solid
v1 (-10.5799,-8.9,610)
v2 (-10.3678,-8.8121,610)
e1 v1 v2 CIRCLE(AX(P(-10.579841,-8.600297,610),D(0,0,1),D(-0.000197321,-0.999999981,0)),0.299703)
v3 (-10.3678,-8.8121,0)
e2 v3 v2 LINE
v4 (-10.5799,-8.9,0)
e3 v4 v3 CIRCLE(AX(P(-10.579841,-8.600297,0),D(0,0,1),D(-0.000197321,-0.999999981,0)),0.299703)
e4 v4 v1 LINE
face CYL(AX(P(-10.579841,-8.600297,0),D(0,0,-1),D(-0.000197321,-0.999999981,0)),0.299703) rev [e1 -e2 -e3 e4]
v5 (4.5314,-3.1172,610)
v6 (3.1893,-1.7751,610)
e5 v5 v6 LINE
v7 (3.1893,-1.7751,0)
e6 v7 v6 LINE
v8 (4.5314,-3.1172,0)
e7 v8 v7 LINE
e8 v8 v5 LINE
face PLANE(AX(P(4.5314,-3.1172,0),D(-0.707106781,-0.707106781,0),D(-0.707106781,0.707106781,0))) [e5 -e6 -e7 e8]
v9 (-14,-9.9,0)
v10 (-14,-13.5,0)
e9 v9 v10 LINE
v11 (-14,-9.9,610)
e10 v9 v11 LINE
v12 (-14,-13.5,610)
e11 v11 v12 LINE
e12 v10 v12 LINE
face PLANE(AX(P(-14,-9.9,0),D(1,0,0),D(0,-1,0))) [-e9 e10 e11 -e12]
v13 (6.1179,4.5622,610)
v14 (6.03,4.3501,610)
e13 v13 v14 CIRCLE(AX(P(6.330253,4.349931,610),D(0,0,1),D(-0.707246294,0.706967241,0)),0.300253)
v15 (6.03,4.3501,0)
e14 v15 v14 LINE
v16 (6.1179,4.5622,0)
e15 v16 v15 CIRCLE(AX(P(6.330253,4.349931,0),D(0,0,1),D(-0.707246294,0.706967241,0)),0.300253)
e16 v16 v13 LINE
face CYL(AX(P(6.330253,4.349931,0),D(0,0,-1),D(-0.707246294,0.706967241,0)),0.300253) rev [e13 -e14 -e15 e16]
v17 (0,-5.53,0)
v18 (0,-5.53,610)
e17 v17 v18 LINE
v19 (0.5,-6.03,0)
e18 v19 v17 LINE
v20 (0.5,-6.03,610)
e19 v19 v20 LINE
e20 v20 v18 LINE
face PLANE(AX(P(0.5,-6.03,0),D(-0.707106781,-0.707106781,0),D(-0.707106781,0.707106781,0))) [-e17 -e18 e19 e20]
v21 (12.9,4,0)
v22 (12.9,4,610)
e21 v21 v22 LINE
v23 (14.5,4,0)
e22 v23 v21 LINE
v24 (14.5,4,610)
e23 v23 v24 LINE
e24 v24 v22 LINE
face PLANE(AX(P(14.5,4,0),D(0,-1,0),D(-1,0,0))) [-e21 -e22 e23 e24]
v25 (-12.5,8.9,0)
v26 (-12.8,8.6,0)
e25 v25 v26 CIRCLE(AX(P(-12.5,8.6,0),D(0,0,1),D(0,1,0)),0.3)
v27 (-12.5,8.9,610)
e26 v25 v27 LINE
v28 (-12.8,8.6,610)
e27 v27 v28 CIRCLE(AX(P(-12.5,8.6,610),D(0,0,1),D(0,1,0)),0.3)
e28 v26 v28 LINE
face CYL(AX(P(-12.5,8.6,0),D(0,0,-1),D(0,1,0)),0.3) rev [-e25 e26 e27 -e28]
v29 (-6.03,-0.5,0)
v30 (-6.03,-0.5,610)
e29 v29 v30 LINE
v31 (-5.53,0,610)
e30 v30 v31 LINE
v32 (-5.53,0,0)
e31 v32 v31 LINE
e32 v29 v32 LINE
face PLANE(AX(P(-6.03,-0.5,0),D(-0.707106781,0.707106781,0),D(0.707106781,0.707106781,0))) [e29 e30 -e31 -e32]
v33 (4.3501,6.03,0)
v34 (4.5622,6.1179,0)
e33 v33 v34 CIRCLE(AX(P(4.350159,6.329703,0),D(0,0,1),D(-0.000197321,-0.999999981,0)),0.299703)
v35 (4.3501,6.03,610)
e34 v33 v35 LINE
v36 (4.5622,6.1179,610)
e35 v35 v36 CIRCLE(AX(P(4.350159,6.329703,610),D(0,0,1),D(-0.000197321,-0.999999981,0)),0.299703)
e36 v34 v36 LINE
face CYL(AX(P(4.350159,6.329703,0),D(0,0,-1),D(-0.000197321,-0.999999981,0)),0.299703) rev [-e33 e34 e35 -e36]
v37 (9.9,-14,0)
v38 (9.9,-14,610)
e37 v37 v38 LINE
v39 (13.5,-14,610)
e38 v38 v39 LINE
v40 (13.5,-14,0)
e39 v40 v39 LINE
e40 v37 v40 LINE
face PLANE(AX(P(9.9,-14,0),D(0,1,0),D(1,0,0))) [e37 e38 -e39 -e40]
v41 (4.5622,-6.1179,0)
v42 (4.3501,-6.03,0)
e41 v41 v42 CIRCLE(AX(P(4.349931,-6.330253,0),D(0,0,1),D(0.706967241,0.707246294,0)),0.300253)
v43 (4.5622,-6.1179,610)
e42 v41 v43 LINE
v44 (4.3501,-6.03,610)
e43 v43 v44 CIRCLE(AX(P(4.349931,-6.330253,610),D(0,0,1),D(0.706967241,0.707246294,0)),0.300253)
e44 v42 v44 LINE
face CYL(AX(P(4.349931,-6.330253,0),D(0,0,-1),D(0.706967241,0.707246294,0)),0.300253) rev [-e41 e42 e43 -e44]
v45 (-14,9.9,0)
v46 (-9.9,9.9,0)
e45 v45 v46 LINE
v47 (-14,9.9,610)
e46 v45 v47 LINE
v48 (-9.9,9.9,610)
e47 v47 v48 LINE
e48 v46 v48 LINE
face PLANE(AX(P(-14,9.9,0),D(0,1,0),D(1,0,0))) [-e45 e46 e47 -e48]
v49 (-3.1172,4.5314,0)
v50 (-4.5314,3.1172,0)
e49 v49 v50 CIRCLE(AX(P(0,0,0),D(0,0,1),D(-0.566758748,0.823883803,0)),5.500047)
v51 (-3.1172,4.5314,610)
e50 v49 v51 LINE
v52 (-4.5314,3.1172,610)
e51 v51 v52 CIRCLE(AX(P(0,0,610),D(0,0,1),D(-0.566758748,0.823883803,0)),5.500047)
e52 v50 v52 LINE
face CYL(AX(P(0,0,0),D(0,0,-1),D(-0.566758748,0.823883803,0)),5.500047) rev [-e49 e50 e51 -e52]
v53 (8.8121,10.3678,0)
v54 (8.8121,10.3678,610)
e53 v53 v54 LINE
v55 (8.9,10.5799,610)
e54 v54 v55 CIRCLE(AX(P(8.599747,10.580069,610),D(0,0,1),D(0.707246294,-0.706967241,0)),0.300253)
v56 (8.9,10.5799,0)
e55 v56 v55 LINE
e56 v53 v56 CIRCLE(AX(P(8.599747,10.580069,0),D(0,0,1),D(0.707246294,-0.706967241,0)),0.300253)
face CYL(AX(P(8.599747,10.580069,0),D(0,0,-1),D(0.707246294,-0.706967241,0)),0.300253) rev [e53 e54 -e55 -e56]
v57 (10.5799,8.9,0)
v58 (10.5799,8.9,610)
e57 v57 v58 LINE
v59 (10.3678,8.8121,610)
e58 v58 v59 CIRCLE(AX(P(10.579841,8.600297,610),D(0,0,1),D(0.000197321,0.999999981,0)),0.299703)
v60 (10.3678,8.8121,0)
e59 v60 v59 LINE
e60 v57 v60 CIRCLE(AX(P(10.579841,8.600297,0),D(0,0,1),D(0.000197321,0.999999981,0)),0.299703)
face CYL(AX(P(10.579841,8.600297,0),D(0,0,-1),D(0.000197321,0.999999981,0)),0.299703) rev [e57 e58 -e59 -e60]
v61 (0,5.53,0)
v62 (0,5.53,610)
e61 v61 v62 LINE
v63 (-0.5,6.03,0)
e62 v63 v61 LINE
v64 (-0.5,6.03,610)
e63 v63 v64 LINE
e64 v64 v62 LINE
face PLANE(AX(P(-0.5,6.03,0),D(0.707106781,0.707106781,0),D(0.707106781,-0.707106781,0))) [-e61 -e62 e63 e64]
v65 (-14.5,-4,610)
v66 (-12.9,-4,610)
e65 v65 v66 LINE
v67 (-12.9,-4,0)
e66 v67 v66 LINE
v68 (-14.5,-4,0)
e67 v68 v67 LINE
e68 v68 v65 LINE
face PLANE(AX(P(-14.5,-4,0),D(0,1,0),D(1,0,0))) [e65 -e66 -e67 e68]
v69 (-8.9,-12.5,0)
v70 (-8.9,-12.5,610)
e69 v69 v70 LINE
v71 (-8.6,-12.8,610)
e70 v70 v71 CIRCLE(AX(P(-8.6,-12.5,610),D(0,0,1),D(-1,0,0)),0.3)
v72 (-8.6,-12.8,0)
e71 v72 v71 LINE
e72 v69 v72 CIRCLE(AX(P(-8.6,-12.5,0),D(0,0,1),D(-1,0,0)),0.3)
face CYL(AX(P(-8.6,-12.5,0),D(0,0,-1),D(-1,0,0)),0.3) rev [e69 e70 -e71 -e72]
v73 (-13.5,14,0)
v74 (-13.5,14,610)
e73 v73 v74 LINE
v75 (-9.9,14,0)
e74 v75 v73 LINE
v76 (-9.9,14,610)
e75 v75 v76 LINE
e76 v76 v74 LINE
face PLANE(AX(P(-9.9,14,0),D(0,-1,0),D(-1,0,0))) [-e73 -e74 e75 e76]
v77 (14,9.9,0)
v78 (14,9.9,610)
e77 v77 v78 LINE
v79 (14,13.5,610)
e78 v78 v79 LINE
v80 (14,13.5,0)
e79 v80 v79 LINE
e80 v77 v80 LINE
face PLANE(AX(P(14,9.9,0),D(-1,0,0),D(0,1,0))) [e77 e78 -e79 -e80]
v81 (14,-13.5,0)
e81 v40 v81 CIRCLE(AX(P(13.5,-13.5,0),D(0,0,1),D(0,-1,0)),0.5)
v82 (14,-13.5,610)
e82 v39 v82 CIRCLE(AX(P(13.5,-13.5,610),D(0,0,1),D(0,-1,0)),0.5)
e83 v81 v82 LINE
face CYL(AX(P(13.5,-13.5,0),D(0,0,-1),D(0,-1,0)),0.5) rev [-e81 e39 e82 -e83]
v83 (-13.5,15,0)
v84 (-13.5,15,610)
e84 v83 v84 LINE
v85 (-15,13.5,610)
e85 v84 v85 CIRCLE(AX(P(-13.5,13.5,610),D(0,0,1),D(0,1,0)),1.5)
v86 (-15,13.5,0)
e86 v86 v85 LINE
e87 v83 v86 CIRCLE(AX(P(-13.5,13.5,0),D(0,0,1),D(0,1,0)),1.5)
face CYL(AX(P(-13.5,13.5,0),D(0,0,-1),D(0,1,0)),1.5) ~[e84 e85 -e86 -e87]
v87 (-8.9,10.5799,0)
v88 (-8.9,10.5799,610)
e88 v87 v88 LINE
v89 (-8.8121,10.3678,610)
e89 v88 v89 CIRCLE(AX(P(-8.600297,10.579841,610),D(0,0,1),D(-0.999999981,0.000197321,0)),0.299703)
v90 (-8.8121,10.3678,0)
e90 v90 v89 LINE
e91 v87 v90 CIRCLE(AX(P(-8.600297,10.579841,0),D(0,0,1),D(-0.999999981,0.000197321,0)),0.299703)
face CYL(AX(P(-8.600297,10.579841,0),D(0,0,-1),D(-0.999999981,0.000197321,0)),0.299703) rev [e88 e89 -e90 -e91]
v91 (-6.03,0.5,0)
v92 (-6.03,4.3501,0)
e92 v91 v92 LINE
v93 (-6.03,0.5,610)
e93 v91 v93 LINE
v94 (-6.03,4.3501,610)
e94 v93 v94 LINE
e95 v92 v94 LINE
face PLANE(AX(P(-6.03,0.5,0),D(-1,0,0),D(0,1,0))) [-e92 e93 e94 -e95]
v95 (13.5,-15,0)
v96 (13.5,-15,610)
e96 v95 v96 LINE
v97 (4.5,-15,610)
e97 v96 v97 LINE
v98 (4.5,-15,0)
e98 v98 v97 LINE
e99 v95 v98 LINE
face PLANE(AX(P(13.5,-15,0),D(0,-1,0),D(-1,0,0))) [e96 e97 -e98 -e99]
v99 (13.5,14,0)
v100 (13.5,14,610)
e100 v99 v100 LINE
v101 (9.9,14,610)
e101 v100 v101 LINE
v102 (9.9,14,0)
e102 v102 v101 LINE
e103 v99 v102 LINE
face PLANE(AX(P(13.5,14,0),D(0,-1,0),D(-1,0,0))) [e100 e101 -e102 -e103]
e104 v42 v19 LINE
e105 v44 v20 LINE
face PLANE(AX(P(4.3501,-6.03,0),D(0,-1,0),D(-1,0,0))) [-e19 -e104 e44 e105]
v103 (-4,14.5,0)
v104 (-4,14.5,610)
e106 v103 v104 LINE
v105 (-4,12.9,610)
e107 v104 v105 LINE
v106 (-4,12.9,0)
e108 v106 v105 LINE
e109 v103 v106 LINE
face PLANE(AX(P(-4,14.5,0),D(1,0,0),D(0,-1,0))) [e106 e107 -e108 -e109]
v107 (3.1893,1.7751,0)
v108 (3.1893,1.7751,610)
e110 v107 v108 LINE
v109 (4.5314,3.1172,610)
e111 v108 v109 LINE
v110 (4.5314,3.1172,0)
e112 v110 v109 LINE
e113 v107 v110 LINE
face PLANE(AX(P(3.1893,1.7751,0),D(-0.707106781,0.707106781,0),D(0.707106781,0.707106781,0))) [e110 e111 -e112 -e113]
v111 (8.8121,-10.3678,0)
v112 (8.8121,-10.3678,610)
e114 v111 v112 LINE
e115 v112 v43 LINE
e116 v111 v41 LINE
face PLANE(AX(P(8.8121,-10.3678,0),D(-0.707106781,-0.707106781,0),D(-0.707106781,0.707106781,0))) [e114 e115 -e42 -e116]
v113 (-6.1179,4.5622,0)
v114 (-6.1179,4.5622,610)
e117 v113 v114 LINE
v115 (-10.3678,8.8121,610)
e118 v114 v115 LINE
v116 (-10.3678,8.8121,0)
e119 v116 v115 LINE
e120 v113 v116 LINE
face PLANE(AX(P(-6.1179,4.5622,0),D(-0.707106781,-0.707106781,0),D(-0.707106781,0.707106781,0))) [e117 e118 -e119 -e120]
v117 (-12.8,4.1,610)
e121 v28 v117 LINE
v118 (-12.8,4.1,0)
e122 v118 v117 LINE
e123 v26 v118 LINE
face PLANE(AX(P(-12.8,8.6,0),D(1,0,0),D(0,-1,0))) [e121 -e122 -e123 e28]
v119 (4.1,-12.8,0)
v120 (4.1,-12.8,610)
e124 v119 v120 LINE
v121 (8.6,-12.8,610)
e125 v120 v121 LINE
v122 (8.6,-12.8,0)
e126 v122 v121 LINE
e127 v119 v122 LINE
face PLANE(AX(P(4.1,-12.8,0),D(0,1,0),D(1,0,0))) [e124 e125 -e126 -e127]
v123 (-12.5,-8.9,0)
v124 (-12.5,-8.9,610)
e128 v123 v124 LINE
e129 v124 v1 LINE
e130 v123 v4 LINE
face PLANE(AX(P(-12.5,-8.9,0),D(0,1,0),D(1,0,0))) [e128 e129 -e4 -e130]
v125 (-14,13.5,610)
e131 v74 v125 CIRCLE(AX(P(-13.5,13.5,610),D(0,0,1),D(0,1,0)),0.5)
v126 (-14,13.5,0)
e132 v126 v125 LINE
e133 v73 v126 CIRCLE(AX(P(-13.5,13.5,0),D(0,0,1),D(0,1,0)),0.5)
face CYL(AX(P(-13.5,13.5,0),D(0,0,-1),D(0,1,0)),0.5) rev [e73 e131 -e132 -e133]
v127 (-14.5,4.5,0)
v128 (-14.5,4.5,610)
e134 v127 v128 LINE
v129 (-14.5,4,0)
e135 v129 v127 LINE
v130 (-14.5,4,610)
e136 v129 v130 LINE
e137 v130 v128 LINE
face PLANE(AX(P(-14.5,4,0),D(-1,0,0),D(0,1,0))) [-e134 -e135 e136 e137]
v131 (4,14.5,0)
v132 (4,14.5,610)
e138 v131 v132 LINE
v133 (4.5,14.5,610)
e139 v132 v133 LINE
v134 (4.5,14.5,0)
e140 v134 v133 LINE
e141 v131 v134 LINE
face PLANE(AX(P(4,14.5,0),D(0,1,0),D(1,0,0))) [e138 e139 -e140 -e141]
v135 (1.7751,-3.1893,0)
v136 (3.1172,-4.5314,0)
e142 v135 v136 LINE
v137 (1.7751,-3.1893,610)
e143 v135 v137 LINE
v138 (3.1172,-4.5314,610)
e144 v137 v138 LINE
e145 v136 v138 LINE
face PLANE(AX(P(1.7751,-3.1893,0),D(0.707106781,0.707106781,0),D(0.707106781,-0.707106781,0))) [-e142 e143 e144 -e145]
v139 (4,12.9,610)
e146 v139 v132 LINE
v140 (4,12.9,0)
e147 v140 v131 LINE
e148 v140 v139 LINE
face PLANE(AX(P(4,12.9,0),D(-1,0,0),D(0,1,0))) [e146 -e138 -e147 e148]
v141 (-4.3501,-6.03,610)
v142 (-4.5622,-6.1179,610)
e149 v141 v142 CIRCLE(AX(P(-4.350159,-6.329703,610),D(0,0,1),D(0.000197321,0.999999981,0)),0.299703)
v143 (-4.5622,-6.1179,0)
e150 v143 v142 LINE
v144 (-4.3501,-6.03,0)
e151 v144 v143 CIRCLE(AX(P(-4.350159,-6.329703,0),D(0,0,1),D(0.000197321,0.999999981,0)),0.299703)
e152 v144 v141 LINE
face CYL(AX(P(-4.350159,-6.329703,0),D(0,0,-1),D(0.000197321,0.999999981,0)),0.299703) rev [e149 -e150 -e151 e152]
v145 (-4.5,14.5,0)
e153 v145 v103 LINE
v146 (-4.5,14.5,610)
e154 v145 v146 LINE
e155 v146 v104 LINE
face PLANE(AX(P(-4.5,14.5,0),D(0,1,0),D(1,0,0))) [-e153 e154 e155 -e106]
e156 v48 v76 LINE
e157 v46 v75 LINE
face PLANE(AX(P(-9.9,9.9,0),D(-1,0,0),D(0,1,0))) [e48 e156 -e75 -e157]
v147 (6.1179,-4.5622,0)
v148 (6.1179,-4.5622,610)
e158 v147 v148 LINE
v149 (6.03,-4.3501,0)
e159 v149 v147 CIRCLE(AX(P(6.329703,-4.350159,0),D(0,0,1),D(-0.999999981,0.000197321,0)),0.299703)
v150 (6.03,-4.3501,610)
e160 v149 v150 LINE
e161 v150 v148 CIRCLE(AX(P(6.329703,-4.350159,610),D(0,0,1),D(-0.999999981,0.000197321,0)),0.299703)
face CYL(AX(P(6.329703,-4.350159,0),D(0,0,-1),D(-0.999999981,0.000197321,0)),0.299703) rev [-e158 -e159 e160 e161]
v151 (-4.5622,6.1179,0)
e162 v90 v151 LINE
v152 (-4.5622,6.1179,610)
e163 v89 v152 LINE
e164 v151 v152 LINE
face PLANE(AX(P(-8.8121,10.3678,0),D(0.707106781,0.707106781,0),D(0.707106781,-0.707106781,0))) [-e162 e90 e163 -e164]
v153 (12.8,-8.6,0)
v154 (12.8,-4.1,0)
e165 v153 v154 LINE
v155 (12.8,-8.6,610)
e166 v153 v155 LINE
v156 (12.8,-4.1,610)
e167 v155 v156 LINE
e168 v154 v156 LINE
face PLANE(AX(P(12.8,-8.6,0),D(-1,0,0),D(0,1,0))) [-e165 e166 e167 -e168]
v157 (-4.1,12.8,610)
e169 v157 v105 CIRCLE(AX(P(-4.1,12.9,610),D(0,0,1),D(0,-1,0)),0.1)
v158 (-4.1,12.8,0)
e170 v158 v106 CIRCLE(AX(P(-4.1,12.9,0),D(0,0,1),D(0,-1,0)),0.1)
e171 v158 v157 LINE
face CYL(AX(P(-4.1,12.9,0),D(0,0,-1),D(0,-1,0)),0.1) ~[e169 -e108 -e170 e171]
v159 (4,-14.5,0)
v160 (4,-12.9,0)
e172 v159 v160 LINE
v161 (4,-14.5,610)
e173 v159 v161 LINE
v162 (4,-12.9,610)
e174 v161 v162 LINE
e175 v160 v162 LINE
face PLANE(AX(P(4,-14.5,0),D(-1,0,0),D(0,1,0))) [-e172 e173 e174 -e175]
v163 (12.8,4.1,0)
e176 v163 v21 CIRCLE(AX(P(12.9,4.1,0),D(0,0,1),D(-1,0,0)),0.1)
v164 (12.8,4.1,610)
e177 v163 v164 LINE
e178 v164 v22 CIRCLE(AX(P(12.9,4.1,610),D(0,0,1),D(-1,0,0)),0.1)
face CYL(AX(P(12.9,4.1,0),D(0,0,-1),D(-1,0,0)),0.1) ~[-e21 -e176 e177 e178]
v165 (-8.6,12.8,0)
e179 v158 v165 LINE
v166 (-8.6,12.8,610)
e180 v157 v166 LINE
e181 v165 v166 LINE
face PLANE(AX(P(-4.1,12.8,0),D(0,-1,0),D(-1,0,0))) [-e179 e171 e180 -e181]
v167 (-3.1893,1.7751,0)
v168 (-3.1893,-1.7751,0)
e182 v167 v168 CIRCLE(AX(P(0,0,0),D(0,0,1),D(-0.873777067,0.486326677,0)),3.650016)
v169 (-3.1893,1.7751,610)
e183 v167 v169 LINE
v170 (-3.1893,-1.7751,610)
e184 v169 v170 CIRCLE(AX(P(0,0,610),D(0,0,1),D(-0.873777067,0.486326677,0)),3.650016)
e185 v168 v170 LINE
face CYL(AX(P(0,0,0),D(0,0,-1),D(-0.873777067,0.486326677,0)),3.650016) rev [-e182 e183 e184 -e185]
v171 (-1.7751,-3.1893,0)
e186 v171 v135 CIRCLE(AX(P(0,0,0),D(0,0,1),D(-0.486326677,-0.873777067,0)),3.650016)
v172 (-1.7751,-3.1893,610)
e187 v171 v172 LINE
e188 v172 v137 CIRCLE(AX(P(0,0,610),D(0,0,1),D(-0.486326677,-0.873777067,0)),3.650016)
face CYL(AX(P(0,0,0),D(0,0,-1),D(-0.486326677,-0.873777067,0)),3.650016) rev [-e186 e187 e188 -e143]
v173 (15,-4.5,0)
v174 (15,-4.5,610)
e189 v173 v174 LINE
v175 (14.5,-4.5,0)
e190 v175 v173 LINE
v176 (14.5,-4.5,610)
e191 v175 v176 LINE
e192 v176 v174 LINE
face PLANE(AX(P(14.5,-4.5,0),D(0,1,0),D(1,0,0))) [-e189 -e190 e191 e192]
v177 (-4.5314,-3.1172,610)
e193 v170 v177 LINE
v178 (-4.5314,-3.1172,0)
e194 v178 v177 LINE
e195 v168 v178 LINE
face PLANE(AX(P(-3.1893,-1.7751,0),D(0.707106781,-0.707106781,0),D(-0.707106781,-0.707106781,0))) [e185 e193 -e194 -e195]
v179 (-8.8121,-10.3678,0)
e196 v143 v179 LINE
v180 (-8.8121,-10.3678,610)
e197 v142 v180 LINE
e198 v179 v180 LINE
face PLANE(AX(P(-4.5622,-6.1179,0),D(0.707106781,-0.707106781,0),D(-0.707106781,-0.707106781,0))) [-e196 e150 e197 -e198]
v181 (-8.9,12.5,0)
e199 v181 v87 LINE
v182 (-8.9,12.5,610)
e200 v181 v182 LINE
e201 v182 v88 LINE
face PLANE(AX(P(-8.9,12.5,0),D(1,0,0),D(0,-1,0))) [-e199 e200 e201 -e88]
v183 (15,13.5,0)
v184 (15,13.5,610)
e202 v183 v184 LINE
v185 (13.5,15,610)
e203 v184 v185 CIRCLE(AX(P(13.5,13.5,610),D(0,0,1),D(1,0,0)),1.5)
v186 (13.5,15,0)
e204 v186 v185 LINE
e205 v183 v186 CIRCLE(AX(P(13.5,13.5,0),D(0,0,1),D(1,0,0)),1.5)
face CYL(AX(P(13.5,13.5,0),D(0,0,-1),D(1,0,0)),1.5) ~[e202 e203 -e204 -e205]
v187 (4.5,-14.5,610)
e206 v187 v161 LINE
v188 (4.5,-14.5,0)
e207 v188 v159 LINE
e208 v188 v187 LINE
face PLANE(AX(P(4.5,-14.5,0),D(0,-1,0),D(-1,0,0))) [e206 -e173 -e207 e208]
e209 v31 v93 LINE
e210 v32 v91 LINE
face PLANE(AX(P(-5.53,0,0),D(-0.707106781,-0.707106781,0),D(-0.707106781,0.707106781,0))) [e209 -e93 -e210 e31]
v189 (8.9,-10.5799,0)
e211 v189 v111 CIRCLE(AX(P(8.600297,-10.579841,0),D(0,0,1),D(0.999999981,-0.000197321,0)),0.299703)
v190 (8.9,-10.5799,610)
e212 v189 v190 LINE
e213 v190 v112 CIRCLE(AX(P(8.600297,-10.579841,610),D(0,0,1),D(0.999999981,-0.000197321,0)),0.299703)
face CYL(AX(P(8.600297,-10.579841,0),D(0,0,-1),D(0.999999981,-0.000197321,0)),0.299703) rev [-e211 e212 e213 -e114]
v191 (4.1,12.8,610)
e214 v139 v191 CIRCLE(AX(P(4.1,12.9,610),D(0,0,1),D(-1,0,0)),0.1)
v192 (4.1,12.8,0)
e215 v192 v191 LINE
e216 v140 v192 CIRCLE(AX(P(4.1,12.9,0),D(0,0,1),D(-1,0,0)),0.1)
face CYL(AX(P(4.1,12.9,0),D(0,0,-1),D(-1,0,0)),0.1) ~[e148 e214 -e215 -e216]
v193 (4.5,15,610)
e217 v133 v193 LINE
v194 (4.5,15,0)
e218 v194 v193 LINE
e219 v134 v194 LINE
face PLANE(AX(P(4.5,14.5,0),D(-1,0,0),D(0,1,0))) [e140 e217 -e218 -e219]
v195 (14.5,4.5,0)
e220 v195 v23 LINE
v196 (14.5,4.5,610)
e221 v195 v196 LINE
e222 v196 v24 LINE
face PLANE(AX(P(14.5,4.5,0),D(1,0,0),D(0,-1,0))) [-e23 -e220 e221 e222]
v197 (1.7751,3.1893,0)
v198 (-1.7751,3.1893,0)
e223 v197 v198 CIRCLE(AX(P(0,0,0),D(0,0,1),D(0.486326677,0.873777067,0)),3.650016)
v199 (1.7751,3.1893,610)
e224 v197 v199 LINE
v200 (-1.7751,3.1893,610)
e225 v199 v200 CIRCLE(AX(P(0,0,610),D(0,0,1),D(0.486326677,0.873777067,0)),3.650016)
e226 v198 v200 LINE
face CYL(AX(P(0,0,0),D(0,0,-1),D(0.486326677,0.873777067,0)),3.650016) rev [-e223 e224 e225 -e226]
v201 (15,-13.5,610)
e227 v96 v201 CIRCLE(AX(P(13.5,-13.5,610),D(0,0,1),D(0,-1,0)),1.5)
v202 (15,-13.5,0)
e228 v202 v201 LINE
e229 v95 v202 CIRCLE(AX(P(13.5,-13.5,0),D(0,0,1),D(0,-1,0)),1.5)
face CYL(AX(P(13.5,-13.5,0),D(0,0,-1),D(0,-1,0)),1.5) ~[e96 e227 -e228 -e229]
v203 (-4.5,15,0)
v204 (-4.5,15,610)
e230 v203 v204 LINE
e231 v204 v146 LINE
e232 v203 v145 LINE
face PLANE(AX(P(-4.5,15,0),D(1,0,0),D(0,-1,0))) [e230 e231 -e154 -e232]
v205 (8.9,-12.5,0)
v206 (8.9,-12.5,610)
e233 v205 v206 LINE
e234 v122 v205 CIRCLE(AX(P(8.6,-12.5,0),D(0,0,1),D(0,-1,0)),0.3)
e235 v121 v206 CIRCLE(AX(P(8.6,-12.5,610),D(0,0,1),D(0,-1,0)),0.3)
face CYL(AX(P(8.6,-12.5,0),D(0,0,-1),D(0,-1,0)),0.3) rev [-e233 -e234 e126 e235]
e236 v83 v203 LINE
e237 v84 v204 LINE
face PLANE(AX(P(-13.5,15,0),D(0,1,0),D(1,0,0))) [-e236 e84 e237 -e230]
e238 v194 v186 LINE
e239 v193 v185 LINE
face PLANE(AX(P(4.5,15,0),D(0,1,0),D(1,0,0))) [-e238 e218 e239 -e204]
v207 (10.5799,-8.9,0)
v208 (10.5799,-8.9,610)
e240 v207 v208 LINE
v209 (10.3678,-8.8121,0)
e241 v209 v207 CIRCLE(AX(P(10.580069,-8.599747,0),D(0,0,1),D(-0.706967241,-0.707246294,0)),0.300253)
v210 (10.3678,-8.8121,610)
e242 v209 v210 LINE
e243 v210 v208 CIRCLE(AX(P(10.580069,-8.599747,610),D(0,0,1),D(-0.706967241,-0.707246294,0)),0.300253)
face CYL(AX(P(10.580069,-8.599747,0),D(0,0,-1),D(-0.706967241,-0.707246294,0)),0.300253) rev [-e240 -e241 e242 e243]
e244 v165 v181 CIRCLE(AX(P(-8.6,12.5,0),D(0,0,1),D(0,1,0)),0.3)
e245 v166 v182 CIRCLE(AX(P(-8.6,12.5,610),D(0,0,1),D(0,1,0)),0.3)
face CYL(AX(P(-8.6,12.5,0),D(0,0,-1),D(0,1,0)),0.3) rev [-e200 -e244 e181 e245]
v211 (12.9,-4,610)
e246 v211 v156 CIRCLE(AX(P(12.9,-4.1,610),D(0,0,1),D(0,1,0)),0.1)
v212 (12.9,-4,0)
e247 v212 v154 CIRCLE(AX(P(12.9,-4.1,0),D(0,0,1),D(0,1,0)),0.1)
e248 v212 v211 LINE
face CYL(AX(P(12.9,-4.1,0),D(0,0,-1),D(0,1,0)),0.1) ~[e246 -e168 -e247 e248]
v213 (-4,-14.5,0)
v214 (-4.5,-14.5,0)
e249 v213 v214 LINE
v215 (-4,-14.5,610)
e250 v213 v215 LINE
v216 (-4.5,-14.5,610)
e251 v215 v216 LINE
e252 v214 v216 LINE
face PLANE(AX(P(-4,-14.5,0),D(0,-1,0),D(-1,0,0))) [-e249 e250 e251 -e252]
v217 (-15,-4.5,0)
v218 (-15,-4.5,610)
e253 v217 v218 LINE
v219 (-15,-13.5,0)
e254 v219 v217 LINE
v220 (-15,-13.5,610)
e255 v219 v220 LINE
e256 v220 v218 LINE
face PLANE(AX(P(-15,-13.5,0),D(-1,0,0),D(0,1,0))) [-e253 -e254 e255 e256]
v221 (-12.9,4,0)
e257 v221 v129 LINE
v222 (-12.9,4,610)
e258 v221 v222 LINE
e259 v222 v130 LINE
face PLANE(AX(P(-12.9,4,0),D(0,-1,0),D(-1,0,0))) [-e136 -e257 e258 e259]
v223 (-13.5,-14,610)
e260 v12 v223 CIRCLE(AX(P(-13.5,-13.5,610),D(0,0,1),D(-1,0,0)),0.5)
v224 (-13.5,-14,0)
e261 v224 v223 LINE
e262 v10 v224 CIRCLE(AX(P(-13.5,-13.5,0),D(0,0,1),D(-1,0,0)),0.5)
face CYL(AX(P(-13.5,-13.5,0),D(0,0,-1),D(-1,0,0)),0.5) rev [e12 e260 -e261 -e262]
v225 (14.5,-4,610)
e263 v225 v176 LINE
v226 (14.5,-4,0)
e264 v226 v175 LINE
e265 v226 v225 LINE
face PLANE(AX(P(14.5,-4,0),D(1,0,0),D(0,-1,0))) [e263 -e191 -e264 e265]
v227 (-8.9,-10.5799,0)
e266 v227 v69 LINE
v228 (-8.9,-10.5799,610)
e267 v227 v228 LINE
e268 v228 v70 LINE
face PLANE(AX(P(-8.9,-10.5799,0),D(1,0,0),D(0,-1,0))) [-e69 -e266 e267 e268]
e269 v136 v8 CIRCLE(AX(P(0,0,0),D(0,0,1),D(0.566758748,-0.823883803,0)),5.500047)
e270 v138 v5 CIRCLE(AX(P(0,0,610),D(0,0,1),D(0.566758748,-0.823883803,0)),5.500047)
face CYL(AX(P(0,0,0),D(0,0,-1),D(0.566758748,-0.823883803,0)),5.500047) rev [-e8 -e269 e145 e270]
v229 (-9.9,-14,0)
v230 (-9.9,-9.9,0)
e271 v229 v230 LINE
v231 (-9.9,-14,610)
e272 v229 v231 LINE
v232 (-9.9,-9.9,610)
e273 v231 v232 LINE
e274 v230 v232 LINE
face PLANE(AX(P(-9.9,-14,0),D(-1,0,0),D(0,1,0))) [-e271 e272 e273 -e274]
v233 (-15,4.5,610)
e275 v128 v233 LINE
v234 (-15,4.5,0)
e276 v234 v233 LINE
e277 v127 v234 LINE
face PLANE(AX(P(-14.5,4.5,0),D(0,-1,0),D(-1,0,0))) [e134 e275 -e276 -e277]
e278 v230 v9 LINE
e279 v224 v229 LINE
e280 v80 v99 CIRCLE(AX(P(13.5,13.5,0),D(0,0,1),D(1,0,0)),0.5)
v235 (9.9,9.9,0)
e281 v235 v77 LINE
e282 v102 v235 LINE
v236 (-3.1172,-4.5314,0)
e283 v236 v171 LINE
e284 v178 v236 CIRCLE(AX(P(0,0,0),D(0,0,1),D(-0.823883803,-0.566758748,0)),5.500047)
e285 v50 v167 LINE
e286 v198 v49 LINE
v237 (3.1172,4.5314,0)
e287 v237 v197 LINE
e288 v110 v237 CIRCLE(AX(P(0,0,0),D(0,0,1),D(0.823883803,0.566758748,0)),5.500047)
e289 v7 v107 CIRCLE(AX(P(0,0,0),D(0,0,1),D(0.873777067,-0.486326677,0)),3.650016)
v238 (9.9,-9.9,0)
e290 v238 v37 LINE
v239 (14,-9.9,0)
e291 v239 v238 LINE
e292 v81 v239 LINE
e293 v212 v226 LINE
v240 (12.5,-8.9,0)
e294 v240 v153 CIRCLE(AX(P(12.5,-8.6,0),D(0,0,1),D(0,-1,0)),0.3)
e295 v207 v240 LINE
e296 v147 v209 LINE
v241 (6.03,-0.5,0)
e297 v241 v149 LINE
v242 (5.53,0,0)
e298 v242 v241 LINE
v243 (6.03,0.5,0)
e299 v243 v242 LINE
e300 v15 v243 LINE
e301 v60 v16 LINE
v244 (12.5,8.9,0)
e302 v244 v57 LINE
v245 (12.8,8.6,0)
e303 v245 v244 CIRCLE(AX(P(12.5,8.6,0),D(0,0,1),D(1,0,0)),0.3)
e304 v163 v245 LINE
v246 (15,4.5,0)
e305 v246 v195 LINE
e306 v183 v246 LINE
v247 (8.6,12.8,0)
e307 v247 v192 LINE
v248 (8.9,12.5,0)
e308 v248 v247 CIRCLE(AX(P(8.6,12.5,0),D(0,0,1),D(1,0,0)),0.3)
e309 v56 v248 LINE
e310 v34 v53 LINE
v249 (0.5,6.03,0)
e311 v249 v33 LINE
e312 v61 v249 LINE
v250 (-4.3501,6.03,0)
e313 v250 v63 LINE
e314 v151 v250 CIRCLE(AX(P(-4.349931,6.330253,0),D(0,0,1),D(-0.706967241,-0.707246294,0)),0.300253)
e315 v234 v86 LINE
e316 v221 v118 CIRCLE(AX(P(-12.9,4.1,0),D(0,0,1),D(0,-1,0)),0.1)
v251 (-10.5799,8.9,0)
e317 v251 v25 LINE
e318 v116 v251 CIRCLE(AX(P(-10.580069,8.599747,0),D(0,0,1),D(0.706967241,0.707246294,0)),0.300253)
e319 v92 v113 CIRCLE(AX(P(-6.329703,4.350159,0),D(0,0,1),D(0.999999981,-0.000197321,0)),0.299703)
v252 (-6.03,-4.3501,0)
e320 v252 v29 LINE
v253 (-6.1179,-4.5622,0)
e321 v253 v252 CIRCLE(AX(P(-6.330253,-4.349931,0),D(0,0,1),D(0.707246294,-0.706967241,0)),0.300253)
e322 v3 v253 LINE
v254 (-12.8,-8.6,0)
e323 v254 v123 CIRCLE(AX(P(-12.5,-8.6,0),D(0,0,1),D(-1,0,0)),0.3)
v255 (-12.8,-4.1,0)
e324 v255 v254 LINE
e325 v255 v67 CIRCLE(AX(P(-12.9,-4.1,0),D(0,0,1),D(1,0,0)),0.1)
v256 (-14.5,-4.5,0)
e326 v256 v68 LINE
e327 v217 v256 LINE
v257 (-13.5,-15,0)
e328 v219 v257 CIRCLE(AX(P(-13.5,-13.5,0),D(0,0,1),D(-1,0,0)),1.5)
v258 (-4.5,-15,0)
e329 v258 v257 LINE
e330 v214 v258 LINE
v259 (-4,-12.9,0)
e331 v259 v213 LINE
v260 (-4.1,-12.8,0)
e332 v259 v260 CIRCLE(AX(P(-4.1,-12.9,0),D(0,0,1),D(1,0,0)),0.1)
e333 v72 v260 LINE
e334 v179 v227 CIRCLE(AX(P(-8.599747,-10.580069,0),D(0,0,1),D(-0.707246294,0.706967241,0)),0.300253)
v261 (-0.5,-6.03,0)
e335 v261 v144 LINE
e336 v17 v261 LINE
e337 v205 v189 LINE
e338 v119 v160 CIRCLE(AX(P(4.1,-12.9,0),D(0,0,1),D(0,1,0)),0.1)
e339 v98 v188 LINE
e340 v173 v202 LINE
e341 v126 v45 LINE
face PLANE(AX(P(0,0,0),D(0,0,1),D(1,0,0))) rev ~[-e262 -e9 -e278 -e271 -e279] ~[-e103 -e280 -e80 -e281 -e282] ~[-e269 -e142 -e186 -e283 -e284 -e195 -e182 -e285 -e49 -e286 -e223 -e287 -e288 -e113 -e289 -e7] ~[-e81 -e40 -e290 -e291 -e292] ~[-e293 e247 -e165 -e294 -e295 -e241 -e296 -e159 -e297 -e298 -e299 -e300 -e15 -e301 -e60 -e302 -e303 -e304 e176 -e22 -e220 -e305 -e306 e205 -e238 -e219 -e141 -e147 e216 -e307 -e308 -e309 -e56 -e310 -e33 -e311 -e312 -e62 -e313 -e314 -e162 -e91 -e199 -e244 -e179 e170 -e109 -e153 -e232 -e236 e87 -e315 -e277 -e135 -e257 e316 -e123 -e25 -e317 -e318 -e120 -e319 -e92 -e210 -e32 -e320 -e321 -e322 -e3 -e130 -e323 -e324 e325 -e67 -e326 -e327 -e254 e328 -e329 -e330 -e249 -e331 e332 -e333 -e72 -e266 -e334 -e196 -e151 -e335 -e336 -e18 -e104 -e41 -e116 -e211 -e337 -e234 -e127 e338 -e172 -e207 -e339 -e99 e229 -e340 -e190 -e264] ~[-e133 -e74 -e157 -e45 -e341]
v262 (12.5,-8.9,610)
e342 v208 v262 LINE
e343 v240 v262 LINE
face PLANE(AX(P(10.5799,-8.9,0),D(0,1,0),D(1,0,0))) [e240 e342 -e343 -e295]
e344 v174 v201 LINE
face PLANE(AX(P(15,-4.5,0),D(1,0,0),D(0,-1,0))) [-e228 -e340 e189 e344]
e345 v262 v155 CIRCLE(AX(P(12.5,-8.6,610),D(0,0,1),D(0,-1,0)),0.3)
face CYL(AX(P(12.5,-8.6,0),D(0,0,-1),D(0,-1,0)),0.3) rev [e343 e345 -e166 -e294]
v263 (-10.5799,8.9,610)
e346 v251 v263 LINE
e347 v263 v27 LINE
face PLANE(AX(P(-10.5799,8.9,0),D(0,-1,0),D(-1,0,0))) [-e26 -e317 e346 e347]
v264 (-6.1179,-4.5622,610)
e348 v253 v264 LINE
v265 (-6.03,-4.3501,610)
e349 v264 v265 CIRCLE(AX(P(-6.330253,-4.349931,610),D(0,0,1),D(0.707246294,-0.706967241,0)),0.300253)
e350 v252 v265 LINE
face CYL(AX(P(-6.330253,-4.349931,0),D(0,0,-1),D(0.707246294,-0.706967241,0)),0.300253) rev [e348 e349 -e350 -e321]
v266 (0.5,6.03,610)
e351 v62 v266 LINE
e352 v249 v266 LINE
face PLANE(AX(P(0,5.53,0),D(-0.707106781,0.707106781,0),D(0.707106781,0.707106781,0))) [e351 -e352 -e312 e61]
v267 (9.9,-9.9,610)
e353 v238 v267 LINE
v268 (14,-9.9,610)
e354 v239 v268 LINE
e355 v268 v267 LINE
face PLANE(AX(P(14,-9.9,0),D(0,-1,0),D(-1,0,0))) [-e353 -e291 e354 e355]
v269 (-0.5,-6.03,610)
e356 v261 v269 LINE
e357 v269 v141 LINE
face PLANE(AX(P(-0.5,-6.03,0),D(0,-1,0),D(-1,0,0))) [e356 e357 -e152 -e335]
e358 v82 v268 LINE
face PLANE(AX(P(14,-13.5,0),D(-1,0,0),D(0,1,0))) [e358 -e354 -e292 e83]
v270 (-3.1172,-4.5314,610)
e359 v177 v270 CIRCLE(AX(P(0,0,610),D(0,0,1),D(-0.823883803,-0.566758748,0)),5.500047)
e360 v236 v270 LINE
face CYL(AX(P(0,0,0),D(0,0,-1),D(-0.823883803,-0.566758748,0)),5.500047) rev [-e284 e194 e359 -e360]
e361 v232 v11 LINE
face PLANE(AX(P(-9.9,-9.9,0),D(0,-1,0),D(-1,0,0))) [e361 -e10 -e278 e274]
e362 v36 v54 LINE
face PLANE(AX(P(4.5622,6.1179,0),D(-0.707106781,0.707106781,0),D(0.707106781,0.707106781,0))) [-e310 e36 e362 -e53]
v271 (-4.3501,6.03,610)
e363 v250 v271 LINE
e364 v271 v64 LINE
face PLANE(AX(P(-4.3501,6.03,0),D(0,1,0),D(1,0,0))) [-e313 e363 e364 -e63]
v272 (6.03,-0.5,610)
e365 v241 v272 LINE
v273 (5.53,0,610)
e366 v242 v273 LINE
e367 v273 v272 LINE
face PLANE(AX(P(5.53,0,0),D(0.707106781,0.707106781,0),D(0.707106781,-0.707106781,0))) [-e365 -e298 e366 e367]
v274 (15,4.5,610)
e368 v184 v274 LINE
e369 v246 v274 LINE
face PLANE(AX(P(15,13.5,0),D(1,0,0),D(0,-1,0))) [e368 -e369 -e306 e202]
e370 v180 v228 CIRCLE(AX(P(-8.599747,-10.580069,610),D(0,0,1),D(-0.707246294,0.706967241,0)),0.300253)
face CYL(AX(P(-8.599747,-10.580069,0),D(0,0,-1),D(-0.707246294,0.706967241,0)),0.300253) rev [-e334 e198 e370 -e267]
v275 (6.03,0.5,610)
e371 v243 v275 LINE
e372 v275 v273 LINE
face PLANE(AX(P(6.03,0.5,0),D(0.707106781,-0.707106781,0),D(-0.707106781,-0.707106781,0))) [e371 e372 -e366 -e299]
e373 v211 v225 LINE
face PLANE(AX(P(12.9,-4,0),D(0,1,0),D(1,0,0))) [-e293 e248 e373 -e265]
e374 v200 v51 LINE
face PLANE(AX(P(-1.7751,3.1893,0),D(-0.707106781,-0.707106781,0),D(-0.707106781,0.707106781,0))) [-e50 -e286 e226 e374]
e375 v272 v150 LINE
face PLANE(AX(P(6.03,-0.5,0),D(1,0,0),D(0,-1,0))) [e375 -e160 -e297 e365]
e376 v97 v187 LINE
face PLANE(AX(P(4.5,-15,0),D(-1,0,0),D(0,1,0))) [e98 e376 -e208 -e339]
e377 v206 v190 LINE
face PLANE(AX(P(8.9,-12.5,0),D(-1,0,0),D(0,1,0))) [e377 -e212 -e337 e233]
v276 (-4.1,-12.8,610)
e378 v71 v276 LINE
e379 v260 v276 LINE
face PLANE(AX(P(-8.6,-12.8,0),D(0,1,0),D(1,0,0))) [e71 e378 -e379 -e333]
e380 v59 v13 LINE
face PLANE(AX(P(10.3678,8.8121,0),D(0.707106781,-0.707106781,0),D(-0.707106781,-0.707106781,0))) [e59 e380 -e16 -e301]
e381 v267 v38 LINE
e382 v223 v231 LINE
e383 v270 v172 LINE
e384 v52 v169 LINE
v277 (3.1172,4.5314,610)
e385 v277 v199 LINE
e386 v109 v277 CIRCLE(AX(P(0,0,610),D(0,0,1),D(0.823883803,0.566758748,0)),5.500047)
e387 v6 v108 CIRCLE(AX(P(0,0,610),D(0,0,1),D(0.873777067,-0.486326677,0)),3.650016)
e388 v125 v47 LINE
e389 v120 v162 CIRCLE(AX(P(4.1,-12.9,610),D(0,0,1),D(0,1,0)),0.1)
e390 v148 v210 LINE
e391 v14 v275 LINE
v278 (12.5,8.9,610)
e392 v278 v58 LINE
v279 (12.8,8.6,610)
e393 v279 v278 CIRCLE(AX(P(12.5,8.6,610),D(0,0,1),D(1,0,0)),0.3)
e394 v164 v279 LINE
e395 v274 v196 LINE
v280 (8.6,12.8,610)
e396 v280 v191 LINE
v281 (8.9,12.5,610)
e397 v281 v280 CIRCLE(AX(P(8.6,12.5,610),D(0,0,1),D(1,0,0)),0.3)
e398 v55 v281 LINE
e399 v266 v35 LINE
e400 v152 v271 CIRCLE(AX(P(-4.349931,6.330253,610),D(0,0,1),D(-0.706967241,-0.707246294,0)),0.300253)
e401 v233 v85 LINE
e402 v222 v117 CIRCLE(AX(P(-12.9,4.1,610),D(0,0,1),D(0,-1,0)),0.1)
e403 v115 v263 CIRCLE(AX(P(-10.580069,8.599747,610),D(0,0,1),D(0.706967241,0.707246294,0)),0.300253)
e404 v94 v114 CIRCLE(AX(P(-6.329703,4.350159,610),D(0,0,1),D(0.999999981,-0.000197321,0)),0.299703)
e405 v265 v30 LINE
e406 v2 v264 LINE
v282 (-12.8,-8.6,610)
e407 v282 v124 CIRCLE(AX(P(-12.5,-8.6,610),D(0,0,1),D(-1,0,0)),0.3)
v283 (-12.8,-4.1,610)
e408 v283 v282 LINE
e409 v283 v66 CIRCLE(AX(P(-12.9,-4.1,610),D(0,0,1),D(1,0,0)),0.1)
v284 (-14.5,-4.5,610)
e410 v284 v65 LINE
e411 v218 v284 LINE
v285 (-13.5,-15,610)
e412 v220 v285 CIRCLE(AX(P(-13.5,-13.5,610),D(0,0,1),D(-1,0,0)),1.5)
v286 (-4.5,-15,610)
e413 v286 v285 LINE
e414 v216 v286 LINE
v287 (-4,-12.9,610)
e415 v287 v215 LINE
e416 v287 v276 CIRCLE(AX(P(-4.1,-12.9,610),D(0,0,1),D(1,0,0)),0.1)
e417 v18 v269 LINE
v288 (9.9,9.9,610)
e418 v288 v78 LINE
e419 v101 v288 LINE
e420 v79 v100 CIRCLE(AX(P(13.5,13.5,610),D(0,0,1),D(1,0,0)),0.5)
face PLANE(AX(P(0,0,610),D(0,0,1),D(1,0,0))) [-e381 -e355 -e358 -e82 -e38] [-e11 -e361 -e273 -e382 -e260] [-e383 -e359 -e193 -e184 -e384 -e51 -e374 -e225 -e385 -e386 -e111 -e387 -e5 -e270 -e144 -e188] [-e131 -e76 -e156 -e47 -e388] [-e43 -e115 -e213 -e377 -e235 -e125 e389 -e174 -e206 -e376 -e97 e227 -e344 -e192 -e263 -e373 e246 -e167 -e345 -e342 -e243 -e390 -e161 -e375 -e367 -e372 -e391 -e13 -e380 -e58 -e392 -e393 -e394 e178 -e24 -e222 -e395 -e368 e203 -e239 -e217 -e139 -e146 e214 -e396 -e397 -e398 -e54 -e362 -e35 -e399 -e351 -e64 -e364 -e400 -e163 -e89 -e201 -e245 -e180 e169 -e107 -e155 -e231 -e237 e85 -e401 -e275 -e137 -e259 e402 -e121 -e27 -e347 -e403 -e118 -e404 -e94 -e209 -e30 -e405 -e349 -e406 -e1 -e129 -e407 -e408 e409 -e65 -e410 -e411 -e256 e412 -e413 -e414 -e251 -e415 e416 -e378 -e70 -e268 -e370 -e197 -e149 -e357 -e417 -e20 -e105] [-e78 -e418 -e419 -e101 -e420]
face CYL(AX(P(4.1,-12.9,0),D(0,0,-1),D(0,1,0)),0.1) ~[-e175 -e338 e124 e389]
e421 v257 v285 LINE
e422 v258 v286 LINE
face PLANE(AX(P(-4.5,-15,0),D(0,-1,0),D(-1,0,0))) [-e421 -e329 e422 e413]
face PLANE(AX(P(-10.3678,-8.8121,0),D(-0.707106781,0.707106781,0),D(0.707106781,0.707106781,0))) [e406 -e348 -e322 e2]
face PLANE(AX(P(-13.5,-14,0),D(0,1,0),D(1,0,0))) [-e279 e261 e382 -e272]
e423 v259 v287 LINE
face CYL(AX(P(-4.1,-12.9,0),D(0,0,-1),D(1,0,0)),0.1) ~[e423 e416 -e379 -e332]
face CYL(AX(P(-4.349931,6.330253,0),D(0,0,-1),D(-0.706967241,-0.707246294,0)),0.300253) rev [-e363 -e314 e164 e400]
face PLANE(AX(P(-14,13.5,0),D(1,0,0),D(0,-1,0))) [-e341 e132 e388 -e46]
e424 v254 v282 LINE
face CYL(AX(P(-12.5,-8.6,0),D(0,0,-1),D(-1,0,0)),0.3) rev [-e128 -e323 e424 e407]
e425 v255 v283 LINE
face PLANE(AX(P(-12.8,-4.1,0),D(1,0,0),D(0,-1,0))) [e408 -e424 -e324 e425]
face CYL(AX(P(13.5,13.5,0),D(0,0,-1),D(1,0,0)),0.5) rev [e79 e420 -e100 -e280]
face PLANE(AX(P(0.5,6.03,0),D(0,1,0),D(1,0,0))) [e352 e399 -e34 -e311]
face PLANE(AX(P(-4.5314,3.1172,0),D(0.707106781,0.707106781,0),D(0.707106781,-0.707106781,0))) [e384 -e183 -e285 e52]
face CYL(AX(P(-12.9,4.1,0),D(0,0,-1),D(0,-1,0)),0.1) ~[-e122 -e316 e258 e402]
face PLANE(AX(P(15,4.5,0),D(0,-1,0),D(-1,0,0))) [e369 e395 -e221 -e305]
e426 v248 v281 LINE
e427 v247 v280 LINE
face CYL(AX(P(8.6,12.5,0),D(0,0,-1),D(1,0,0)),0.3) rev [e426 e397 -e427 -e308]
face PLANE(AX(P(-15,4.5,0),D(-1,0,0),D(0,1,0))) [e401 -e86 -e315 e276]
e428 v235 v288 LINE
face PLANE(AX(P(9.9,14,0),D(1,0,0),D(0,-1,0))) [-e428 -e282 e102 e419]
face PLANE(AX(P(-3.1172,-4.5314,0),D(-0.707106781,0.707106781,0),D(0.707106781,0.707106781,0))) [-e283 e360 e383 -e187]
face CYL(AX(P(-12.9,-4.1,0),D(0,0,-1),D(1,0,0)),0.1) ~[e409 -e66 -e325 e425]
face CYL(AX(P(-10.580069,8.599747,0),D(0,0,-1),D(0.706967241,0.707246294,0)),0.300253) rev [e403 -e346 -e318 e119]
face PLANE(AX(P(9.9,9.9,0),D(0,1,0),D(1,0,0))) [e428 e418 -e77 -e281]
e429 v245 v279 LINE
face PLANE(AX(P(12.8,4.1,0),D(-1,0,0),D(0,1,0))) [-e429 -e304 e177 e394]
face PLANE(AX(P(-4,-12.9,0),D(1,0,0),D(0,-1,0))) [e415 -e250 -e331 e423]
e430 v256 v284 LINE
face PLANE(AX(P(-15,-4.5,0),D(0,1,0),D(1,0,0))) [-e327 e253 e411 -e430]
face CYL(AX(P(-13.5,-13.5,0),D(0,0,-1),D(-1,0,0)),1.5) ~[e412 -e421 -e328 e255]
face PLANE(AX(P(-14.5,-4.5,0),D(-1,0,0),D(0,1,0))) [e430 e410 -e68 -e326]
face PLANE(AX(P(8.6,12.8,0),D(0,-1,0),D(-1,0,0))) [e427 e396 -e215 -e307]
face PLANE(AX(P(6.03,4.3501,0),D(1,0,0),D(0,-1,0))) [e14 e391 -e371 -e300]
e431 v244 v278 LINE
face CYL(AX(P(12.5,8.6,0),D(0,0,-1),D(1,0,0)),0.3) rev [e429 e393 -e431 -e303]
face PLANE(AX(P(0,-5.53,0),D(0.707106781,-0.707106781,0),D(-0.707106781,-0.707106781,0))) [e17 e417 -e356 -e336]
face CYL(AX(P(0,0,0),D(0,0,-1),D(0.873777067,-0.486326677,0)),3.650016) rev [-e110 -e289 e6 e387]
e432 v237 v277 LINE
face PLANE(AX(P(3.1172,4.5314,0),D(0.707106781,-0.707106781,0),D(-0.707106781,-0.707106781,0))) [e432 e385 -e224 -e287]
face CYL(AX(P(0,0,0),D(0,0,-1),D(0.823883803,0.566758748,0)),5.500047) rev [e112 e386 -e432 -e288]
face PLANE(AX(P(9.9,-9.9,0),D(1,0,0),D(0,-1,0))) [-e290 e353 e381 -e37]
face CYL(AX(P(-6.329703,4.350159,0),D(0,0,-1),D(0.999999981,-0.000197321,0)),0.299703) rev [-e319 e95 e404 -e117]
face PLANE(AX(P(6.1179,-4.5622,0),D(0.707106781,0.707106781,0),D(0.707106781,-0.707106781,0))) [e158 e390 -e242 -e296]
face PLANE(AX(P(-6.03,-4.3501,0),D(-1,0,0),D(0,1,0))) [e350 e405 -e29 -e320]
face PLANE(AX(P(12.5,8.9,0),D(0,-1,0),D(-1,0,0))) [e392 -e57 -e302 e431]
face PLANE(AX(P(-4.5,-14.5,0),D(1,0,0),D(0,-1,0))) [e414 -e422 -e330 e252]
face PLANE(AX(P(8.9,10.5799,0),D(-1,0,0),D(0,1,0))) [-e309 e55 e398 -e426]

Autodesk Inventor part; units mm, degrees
ref_plane "YZ Plane" through (0, 0, 0) normal (1, 0, 0) x (0, 1, 0)
ref_plane "Płaszczyzna początkowa" through (0, 0, 0) normal (0, 0, 1) x (1, 0, 0)
ref_plane "Płaszczyzna końcowa" through (0, 0, 610) normal (0, 0, 1) x (1, 0, 0)
sketch "Szkic" plane through (0, 0, 0) normal (0, 0, 1) x (1, 0, 0)
  line L0 (1.7751, -3.1893) -> (3.1172, -4.5314)
  arc A0 (-1.7751, -3.1893) -> (1.7751, -3.1893) centre (0, 0) ccw
  line L1 (-3.1172, -4.5314) -> (-1.7751, -3.1893)
  arc A1 (-4.5314, -3.1172) -> (-3.1172, -4.5314) centre (0, 0) ccw
  line L2 (-3.1893, -1.7751) -> (-4.5314, -3.1172)
  arc A2 (-3.1893, 1.7751) -> (-3.1893, -1.7751) centre (0, 0) ccw
  line L3 (-4.5314, 3.1172) -> (-3.1893, 1.7751)
  arc A3 (-3.1172, 4.5314) -> (-4.5314, 3.1172) centre (0, 0) ccw
  line L4 (-1.7751, 3.1893) -> (-3.1172, 4.5314)
  arc A4 (1.7751, 3.1893) -> (-1.7751, 3.1893) centre (0, 0) ccw
  line L5 (3.1172, 4.5314) -> (1.7751, 3.1893)
  arc A5 (4.5314, 3.1172) -> (3.1172, 4.5314) centre (0, 0) ccw
  line L6 (3.1893, 1.7751) -> (4.5314, 3.1172)
  arc A6 (3.1893, -1.7751) -> (3.1893, 1.7751) centre (0, 0) ccw
  line L7 (4.5314, -3.1172) -> (3.1893, -1.7751)
  arc A7 (3.1172, -4.5314) -> (4.5314, -3.1172) centre (0, 0) ccw
  line L8 (14, -13.5) -> (14, -9.9)
  arc A8 (13.5, -14) -> (14, -13.5) centre (13.5, -13.5) ccw
  line L9 (9.9, -14) -> (13.5, -14)
  line L10 (9.9, -9.9) -> (9.9, -14)
  line L11 (14, -9.9) -> (9.9, -9.9)
  line L12 (-9.9, -9.9) -> (-14, -9.9)
  line L13 (-9.9, -14) -> (-9.9, -9.9)
  line L14 (-13.5, -14) -> (-9.9, -14)
  arc A9 (-14, -13.5) -> (-13.5, -14) centre (-13.5, -13.5) ccw
  line L15 (-14, -9.9) -> (-14, -13.5)
  line L16 (14, 9.9) -> (14, 13.5)
  line L17 (9.9, 9.9) -> (14, 9.9)
  line L18 (9.9, 14) -> (9.9, 9.9)
  line L19 (13.5, 14) -> (9.9, 14)
  arc A10 (14, 13.5) -> (13.5, 14) centre (13.5, 13.5) ccw
  line L20 (-14, 9.9) -> (-9.9, 9.9)
  line L21 (-14, 13.5) -> (-14, 9.9)
  arc A11 (-13.5, 14) -> (-14, 13.5) centre (-13.5, 13.5) ccw
  line L22 (-9.9, 14) -> (-13.5, 14)
  line L23 (-9.9, 9.9) -> (-9.9, 14)
  line L24 (13.5, -15) -> (4.5, -15)
  arc A12 (13.5, -15) -> (15, -13.5) centre (13.5, -13.5) ccw
  line L25 (15, -4.5) -> (15, -13.5)
  line L26 (14.5, -4.5) -> (15, -4.5)
  line L27 (14.5, -4) -> (14.5, -4.5)
  line L28 (12.9, -4) -> (14.5, -4)
  arc A13 (12.9, -4) -> (12.8, -4.1) centre (12.9, -4.1) ccw
  line L29 (12.8, -8.6) -> (12.8, -4.1)
  arc A14 (12.5, -8.9) -> (12.8, -8.6) centre (12.5, -8.6) ccw
  line L30 (10.5799, -8.9) -> (12.5, -8.9)
  arc A15 (10.3678, -8.8121) -> (10.5799, -8.9) centre (10.5799, -8.6) ccw
  line L31 (6.1179, -4.5622) -> (10.3678, -8.8121)
  arc A16 (6.03, -4.3501) -> (6.1179, -4.5622) centre (6.33, -4.3501) ccw
  line L32 (6.03, -0.5) -> (6.03, -4.3501)
  line L33 (5.53, 0) -> (6.03, -0.5)
  line L34 (6.03, 0.5) -> (5.53, 0)
  line L35 (6.03, 4.3501) -> (6.03, 0.5)
  arc A17 (6.1179, 4.5622) -> (6.03, 4.3501) centre (6.33, 4.3501) ccw
  line L36 (10.3678, 8.8121) -> (6.1179, 4.5622)
  arc A18 (10.5799, 8.9) -> (10.3678, 8.8121) centre (10.5799, 8.6) ccw
  line L37 (12.5, 8.9) -> (10.5799, 8.9)
  arc A19 (12.8, 8.6) -> (12.5, 8.9) centre (12.5, 8.6) ccw
  line L38 (12.8, 4.1) -> (12.8, 8.6)
  arc A20 (12.8, 4.1) -> (12.9, 4) centre (12.9, 4.1) ccw
  line L39 (14.5, 4) -> (12.9, 4)
  line L40 (14.5, 4.5) -> (14.5, 4)
  line L41 (15, 4.5) -> (14.5, 4.5)
  line L42 (15, 13.5) -> (15, 4.5)
  arc A21 (15, 13.5) -> (13.5, 15) centre (13.5, 13.5) ccw
  line L43 (4.5, 15) -> (13.5, 15)
  line L44 (4.5, 14.5) -> (4.5, 15)
  line L45 (4, 14.5) -> (4.5, 14.5)
  line L46 (4, 12.9) -> (4, 14.5)
  arc A22 (4, 12.9) -> (4.1, 12.8) centre (4.1, 12.9) ccw
  line L47 (8.6, 12.8) -> (4.1, 12.8)
  arc A23 (8.9, 12.5) -> (8.6, 12.8) centre (8.6, 12.5) ccw
  line L48 (8.9, 10.5799) -> (8.9, 12.5)
  arc A24 (8.8121, 10.3678) -> (8.9, 10.5799) centre (8.6, 10.5799) ccw
  line L49 (4.5622, 6.1179) -> (8.8121, 10.3678)
  arc A25 (4.3501, 6.03) -> (4.5622, 6.1179) centre (4.3501, 6.33) ccw
  line L50 (0.5, 6.03) -> (4.3501, 6.03)
  line L51 (0, 5.53) -> (0.5, 6.03)
  line L52 (-0.5, 6.03) -> (0, 5.53)
  line L53 (-4.3501, 6.03) -> (-0.5, 6.03)
  arc A26 (-4.5622, 6.1179) -> (-4.3501, 6.03) centre (-4.3501, 6.33) ccw
  line L54 (-8.8121, 10.3678) -> (-4.5622, 6.1179)
  arc A27 (-8.9, 10.5799) -> (-8.8121, 10.3678) centre (-8.6, 10.5799) ccw
  line L55 (-8.9, 12.5) -> (-8.9, 10.5799)
  arc A28 (-8.6, 12.8) -> (-8.9, 12.5) centre (-8.6, 12.5) ccw
  line L56 (-4.1, 12.8) -> (-8.6, 12.8)
  arc A29 (-4.1, 12.8) -> (-4, 12.9) centre (-4.1, 12.9) ccw
  line L57 (-4, 14.5) -> (-4, 12.9)
  line L58 (-4.5, 14.5) -> (-4, 14.5)
  line L59 (-4.5, 15) -> (-4.5, 14.5)
  line L60 (-13.5, 15) -> (-4.5, 15)
  arc A30 (-13.5, 15) -> (-15, 13.5) centre (-13.5, 13.5) ccw
  line L61 (-15, 4.5) -> (-15, 13.5)
  line L62 (-14.5, 4.5) -> (-15, 4.5)
  line L63 (-14.5, 4) -> (-14.5, 4.5)
  line L64 (-12.9, 4) -> (-14.5, 4)
  arc A31 (-12.9, 4) -> (-12.8, 4.1) centre (-12.9, 4.1) ccw
  line L65 (-12.8, 8.6) -> (-12.8, 4.1)
  arc A32 (-12.5, 8.9) -> (-12.8, 8.6) centre (-12.5, 8.6) ccw
  line L66 (-10.5799, 8.9) -> (-12.5, 8.9)
  arc A33 (-10.3678, 8.8121) -> (-10.5799, 8.9) centre (-10.5799, 8.6) ccw
  line L67 (-6.1179, 4.5622) -> (-10.3678, 8.8121)
  arc A34 (-6.03, 4.3501) -> (-6.1179, 4.5622) centre (-6.33, 4.3501) ccw
  line L68 (-6.03, 0.5) -> (-6.03, 4.3501)
  line L69 (-5.53, 0) -> (-6.03, 0.5)
  line L70 (-6.03, -0.5) -> (-5.53, 0)
  line L71 (-6.03, -4.3501) -> (-6.03, -0.5)
  arc A35 (-6.1179, -4.5622) -> (-6.03, -4.3501) centre (-6.33, -4.3501) ccw
  line L72 (-10.3678, -8.8121) -> (-6.1179, -4.5622)
  arc A36 (-10.5799, -8.9) -> (-10.3678, -8.8121) centre (-10.5799, -8.6) ccw
  line L73 (-12.5, -8.9) -> (-10.5799, -8.9)
  arc A37 (-12.8, -8.6) -> (-12.5, -8.9) centre (-12.5, -8.6) ccw
  line L74 (-12.8, -4.1) -> (-12.8, -8.6)
  arc A38 (-12.8, -4.1) -> (-12.9, -4) centre (-12.9, -4.1) ccw
  line L75 (-14.5, -4) -> (-12.9, -4)
  line L76 (-14.5, -4.5) -> (-14.5, -4)
  line L77 (-15, -4.5) -> (-14.5, -4.5)
  line L78 (-15, -13.5) -> (-15, -4.5)
  arc A39 (-15, -13.5) -> (-13.5, -15) centre (-13.5, -13.5) ccw
  line L79 (-4.5, -15) -> (-13.5, -15)
  line L80 (-4.5, -14.5) -> (-4.5, -15)
  line L81 (-4, -14.5) -> (-4.5, -14.5)
  line L82 (-4, -12.9) -> (-4, -14.5)
  arc A40 (-4, -12.9) -> (-4.1, -12.8) centre (-4.1, -12.9) ccw
  line L83 (-8.6, -12.8) -> (-4.1, -12.8)
  arc A41 (-8.9, -12.5) -> (-8.6, -12.8) centre (-8.6, -12.5) ccw
  line L84 (-8.9, -10.5799) -> (-8.9, -12.5)
  arc A42 (-8.8121, -10.3678) -> (-8.9, -10.5799) centre (-8.6, -10.5799) ccw
  line L85 (-4.5622, -6.1179) -> (-8.8121, -10.3678)
  arc A43 (-4.3501, -6.03) -> (-4.5622, -6.1179) centre (-4.3501, -6.33) ccw
  line L86 (-0.5, -6.03) -> (-4.3501, -6.03)
  line L87 (0, -5.53) -> (-0.5, -6.03)
  line L88 (0.5, -6.03) -> (0, -5.53)
  line L89 (4.3501, -6.03) -> (0.5, -6.03)
  arc A44 (4.5622, -6.1179) -> (4.3501, -6.03) centre (4.3501, -6.33) ccw
  line L90 (8.8121, -10.3678) -> (4.5622, -6.1179)
  arc A45 (8.9, -10.5799) -> (8.8121, -10.3678) centre (8.6, -10.5799) ccw
  line L91 (8.9, -12.5) -> (8.9, -10.5799)
  arc A46 (8.6, -12.8) -> (8.9, -12.5) centre (8.6, -12.5) ccw
  line L92 (4.1, -12.8) -> (8.6, -12.8)
  arc A47 (4.1, -12.8) -> (4, -12.9) centre (4.1, -12.9) ccw
  line L93 (4, -14.5) -> (4, -12.9)
  line L94 (4.5, -14.5) -> (4, -14.5)
  line L95 (4.5, -15) -> (4.5, -14.5)
  point P0 (15, -15)
extrude "Bryła" add sketch "Szkic" along normal up to surface (610 mm away) from surface at 0
sketch "Szkic2" plane through (0, 0, 0) normal (0, 0, 1) x (1, 0, 0)
  line L0 (0, 0) -> (10, 0)
ref_plane "Płaszczyzna konstrukcyjna3" through (0, 0, 0) normal (0, -1, 0) x (1, 0, 0)
sketch "Szkic3" plane through (0, 0, 0) normal (0, -1, 0) x (1, 0, 0)
  line L0 (-2, 0) -> (12, 0)
  line L1 (-2, 610) -> (12, 610)
  dimension "d7" = 610
equation "\"G_OFFSET_START\" = 0"
equation "\"G_OFFSET_END\" = 0"
equation "\"G_L\" = d7"
properties part number "COTS_ARMA_AR3703_30x30_Alu_Extr_00000003" material "Aluminium 6061"
